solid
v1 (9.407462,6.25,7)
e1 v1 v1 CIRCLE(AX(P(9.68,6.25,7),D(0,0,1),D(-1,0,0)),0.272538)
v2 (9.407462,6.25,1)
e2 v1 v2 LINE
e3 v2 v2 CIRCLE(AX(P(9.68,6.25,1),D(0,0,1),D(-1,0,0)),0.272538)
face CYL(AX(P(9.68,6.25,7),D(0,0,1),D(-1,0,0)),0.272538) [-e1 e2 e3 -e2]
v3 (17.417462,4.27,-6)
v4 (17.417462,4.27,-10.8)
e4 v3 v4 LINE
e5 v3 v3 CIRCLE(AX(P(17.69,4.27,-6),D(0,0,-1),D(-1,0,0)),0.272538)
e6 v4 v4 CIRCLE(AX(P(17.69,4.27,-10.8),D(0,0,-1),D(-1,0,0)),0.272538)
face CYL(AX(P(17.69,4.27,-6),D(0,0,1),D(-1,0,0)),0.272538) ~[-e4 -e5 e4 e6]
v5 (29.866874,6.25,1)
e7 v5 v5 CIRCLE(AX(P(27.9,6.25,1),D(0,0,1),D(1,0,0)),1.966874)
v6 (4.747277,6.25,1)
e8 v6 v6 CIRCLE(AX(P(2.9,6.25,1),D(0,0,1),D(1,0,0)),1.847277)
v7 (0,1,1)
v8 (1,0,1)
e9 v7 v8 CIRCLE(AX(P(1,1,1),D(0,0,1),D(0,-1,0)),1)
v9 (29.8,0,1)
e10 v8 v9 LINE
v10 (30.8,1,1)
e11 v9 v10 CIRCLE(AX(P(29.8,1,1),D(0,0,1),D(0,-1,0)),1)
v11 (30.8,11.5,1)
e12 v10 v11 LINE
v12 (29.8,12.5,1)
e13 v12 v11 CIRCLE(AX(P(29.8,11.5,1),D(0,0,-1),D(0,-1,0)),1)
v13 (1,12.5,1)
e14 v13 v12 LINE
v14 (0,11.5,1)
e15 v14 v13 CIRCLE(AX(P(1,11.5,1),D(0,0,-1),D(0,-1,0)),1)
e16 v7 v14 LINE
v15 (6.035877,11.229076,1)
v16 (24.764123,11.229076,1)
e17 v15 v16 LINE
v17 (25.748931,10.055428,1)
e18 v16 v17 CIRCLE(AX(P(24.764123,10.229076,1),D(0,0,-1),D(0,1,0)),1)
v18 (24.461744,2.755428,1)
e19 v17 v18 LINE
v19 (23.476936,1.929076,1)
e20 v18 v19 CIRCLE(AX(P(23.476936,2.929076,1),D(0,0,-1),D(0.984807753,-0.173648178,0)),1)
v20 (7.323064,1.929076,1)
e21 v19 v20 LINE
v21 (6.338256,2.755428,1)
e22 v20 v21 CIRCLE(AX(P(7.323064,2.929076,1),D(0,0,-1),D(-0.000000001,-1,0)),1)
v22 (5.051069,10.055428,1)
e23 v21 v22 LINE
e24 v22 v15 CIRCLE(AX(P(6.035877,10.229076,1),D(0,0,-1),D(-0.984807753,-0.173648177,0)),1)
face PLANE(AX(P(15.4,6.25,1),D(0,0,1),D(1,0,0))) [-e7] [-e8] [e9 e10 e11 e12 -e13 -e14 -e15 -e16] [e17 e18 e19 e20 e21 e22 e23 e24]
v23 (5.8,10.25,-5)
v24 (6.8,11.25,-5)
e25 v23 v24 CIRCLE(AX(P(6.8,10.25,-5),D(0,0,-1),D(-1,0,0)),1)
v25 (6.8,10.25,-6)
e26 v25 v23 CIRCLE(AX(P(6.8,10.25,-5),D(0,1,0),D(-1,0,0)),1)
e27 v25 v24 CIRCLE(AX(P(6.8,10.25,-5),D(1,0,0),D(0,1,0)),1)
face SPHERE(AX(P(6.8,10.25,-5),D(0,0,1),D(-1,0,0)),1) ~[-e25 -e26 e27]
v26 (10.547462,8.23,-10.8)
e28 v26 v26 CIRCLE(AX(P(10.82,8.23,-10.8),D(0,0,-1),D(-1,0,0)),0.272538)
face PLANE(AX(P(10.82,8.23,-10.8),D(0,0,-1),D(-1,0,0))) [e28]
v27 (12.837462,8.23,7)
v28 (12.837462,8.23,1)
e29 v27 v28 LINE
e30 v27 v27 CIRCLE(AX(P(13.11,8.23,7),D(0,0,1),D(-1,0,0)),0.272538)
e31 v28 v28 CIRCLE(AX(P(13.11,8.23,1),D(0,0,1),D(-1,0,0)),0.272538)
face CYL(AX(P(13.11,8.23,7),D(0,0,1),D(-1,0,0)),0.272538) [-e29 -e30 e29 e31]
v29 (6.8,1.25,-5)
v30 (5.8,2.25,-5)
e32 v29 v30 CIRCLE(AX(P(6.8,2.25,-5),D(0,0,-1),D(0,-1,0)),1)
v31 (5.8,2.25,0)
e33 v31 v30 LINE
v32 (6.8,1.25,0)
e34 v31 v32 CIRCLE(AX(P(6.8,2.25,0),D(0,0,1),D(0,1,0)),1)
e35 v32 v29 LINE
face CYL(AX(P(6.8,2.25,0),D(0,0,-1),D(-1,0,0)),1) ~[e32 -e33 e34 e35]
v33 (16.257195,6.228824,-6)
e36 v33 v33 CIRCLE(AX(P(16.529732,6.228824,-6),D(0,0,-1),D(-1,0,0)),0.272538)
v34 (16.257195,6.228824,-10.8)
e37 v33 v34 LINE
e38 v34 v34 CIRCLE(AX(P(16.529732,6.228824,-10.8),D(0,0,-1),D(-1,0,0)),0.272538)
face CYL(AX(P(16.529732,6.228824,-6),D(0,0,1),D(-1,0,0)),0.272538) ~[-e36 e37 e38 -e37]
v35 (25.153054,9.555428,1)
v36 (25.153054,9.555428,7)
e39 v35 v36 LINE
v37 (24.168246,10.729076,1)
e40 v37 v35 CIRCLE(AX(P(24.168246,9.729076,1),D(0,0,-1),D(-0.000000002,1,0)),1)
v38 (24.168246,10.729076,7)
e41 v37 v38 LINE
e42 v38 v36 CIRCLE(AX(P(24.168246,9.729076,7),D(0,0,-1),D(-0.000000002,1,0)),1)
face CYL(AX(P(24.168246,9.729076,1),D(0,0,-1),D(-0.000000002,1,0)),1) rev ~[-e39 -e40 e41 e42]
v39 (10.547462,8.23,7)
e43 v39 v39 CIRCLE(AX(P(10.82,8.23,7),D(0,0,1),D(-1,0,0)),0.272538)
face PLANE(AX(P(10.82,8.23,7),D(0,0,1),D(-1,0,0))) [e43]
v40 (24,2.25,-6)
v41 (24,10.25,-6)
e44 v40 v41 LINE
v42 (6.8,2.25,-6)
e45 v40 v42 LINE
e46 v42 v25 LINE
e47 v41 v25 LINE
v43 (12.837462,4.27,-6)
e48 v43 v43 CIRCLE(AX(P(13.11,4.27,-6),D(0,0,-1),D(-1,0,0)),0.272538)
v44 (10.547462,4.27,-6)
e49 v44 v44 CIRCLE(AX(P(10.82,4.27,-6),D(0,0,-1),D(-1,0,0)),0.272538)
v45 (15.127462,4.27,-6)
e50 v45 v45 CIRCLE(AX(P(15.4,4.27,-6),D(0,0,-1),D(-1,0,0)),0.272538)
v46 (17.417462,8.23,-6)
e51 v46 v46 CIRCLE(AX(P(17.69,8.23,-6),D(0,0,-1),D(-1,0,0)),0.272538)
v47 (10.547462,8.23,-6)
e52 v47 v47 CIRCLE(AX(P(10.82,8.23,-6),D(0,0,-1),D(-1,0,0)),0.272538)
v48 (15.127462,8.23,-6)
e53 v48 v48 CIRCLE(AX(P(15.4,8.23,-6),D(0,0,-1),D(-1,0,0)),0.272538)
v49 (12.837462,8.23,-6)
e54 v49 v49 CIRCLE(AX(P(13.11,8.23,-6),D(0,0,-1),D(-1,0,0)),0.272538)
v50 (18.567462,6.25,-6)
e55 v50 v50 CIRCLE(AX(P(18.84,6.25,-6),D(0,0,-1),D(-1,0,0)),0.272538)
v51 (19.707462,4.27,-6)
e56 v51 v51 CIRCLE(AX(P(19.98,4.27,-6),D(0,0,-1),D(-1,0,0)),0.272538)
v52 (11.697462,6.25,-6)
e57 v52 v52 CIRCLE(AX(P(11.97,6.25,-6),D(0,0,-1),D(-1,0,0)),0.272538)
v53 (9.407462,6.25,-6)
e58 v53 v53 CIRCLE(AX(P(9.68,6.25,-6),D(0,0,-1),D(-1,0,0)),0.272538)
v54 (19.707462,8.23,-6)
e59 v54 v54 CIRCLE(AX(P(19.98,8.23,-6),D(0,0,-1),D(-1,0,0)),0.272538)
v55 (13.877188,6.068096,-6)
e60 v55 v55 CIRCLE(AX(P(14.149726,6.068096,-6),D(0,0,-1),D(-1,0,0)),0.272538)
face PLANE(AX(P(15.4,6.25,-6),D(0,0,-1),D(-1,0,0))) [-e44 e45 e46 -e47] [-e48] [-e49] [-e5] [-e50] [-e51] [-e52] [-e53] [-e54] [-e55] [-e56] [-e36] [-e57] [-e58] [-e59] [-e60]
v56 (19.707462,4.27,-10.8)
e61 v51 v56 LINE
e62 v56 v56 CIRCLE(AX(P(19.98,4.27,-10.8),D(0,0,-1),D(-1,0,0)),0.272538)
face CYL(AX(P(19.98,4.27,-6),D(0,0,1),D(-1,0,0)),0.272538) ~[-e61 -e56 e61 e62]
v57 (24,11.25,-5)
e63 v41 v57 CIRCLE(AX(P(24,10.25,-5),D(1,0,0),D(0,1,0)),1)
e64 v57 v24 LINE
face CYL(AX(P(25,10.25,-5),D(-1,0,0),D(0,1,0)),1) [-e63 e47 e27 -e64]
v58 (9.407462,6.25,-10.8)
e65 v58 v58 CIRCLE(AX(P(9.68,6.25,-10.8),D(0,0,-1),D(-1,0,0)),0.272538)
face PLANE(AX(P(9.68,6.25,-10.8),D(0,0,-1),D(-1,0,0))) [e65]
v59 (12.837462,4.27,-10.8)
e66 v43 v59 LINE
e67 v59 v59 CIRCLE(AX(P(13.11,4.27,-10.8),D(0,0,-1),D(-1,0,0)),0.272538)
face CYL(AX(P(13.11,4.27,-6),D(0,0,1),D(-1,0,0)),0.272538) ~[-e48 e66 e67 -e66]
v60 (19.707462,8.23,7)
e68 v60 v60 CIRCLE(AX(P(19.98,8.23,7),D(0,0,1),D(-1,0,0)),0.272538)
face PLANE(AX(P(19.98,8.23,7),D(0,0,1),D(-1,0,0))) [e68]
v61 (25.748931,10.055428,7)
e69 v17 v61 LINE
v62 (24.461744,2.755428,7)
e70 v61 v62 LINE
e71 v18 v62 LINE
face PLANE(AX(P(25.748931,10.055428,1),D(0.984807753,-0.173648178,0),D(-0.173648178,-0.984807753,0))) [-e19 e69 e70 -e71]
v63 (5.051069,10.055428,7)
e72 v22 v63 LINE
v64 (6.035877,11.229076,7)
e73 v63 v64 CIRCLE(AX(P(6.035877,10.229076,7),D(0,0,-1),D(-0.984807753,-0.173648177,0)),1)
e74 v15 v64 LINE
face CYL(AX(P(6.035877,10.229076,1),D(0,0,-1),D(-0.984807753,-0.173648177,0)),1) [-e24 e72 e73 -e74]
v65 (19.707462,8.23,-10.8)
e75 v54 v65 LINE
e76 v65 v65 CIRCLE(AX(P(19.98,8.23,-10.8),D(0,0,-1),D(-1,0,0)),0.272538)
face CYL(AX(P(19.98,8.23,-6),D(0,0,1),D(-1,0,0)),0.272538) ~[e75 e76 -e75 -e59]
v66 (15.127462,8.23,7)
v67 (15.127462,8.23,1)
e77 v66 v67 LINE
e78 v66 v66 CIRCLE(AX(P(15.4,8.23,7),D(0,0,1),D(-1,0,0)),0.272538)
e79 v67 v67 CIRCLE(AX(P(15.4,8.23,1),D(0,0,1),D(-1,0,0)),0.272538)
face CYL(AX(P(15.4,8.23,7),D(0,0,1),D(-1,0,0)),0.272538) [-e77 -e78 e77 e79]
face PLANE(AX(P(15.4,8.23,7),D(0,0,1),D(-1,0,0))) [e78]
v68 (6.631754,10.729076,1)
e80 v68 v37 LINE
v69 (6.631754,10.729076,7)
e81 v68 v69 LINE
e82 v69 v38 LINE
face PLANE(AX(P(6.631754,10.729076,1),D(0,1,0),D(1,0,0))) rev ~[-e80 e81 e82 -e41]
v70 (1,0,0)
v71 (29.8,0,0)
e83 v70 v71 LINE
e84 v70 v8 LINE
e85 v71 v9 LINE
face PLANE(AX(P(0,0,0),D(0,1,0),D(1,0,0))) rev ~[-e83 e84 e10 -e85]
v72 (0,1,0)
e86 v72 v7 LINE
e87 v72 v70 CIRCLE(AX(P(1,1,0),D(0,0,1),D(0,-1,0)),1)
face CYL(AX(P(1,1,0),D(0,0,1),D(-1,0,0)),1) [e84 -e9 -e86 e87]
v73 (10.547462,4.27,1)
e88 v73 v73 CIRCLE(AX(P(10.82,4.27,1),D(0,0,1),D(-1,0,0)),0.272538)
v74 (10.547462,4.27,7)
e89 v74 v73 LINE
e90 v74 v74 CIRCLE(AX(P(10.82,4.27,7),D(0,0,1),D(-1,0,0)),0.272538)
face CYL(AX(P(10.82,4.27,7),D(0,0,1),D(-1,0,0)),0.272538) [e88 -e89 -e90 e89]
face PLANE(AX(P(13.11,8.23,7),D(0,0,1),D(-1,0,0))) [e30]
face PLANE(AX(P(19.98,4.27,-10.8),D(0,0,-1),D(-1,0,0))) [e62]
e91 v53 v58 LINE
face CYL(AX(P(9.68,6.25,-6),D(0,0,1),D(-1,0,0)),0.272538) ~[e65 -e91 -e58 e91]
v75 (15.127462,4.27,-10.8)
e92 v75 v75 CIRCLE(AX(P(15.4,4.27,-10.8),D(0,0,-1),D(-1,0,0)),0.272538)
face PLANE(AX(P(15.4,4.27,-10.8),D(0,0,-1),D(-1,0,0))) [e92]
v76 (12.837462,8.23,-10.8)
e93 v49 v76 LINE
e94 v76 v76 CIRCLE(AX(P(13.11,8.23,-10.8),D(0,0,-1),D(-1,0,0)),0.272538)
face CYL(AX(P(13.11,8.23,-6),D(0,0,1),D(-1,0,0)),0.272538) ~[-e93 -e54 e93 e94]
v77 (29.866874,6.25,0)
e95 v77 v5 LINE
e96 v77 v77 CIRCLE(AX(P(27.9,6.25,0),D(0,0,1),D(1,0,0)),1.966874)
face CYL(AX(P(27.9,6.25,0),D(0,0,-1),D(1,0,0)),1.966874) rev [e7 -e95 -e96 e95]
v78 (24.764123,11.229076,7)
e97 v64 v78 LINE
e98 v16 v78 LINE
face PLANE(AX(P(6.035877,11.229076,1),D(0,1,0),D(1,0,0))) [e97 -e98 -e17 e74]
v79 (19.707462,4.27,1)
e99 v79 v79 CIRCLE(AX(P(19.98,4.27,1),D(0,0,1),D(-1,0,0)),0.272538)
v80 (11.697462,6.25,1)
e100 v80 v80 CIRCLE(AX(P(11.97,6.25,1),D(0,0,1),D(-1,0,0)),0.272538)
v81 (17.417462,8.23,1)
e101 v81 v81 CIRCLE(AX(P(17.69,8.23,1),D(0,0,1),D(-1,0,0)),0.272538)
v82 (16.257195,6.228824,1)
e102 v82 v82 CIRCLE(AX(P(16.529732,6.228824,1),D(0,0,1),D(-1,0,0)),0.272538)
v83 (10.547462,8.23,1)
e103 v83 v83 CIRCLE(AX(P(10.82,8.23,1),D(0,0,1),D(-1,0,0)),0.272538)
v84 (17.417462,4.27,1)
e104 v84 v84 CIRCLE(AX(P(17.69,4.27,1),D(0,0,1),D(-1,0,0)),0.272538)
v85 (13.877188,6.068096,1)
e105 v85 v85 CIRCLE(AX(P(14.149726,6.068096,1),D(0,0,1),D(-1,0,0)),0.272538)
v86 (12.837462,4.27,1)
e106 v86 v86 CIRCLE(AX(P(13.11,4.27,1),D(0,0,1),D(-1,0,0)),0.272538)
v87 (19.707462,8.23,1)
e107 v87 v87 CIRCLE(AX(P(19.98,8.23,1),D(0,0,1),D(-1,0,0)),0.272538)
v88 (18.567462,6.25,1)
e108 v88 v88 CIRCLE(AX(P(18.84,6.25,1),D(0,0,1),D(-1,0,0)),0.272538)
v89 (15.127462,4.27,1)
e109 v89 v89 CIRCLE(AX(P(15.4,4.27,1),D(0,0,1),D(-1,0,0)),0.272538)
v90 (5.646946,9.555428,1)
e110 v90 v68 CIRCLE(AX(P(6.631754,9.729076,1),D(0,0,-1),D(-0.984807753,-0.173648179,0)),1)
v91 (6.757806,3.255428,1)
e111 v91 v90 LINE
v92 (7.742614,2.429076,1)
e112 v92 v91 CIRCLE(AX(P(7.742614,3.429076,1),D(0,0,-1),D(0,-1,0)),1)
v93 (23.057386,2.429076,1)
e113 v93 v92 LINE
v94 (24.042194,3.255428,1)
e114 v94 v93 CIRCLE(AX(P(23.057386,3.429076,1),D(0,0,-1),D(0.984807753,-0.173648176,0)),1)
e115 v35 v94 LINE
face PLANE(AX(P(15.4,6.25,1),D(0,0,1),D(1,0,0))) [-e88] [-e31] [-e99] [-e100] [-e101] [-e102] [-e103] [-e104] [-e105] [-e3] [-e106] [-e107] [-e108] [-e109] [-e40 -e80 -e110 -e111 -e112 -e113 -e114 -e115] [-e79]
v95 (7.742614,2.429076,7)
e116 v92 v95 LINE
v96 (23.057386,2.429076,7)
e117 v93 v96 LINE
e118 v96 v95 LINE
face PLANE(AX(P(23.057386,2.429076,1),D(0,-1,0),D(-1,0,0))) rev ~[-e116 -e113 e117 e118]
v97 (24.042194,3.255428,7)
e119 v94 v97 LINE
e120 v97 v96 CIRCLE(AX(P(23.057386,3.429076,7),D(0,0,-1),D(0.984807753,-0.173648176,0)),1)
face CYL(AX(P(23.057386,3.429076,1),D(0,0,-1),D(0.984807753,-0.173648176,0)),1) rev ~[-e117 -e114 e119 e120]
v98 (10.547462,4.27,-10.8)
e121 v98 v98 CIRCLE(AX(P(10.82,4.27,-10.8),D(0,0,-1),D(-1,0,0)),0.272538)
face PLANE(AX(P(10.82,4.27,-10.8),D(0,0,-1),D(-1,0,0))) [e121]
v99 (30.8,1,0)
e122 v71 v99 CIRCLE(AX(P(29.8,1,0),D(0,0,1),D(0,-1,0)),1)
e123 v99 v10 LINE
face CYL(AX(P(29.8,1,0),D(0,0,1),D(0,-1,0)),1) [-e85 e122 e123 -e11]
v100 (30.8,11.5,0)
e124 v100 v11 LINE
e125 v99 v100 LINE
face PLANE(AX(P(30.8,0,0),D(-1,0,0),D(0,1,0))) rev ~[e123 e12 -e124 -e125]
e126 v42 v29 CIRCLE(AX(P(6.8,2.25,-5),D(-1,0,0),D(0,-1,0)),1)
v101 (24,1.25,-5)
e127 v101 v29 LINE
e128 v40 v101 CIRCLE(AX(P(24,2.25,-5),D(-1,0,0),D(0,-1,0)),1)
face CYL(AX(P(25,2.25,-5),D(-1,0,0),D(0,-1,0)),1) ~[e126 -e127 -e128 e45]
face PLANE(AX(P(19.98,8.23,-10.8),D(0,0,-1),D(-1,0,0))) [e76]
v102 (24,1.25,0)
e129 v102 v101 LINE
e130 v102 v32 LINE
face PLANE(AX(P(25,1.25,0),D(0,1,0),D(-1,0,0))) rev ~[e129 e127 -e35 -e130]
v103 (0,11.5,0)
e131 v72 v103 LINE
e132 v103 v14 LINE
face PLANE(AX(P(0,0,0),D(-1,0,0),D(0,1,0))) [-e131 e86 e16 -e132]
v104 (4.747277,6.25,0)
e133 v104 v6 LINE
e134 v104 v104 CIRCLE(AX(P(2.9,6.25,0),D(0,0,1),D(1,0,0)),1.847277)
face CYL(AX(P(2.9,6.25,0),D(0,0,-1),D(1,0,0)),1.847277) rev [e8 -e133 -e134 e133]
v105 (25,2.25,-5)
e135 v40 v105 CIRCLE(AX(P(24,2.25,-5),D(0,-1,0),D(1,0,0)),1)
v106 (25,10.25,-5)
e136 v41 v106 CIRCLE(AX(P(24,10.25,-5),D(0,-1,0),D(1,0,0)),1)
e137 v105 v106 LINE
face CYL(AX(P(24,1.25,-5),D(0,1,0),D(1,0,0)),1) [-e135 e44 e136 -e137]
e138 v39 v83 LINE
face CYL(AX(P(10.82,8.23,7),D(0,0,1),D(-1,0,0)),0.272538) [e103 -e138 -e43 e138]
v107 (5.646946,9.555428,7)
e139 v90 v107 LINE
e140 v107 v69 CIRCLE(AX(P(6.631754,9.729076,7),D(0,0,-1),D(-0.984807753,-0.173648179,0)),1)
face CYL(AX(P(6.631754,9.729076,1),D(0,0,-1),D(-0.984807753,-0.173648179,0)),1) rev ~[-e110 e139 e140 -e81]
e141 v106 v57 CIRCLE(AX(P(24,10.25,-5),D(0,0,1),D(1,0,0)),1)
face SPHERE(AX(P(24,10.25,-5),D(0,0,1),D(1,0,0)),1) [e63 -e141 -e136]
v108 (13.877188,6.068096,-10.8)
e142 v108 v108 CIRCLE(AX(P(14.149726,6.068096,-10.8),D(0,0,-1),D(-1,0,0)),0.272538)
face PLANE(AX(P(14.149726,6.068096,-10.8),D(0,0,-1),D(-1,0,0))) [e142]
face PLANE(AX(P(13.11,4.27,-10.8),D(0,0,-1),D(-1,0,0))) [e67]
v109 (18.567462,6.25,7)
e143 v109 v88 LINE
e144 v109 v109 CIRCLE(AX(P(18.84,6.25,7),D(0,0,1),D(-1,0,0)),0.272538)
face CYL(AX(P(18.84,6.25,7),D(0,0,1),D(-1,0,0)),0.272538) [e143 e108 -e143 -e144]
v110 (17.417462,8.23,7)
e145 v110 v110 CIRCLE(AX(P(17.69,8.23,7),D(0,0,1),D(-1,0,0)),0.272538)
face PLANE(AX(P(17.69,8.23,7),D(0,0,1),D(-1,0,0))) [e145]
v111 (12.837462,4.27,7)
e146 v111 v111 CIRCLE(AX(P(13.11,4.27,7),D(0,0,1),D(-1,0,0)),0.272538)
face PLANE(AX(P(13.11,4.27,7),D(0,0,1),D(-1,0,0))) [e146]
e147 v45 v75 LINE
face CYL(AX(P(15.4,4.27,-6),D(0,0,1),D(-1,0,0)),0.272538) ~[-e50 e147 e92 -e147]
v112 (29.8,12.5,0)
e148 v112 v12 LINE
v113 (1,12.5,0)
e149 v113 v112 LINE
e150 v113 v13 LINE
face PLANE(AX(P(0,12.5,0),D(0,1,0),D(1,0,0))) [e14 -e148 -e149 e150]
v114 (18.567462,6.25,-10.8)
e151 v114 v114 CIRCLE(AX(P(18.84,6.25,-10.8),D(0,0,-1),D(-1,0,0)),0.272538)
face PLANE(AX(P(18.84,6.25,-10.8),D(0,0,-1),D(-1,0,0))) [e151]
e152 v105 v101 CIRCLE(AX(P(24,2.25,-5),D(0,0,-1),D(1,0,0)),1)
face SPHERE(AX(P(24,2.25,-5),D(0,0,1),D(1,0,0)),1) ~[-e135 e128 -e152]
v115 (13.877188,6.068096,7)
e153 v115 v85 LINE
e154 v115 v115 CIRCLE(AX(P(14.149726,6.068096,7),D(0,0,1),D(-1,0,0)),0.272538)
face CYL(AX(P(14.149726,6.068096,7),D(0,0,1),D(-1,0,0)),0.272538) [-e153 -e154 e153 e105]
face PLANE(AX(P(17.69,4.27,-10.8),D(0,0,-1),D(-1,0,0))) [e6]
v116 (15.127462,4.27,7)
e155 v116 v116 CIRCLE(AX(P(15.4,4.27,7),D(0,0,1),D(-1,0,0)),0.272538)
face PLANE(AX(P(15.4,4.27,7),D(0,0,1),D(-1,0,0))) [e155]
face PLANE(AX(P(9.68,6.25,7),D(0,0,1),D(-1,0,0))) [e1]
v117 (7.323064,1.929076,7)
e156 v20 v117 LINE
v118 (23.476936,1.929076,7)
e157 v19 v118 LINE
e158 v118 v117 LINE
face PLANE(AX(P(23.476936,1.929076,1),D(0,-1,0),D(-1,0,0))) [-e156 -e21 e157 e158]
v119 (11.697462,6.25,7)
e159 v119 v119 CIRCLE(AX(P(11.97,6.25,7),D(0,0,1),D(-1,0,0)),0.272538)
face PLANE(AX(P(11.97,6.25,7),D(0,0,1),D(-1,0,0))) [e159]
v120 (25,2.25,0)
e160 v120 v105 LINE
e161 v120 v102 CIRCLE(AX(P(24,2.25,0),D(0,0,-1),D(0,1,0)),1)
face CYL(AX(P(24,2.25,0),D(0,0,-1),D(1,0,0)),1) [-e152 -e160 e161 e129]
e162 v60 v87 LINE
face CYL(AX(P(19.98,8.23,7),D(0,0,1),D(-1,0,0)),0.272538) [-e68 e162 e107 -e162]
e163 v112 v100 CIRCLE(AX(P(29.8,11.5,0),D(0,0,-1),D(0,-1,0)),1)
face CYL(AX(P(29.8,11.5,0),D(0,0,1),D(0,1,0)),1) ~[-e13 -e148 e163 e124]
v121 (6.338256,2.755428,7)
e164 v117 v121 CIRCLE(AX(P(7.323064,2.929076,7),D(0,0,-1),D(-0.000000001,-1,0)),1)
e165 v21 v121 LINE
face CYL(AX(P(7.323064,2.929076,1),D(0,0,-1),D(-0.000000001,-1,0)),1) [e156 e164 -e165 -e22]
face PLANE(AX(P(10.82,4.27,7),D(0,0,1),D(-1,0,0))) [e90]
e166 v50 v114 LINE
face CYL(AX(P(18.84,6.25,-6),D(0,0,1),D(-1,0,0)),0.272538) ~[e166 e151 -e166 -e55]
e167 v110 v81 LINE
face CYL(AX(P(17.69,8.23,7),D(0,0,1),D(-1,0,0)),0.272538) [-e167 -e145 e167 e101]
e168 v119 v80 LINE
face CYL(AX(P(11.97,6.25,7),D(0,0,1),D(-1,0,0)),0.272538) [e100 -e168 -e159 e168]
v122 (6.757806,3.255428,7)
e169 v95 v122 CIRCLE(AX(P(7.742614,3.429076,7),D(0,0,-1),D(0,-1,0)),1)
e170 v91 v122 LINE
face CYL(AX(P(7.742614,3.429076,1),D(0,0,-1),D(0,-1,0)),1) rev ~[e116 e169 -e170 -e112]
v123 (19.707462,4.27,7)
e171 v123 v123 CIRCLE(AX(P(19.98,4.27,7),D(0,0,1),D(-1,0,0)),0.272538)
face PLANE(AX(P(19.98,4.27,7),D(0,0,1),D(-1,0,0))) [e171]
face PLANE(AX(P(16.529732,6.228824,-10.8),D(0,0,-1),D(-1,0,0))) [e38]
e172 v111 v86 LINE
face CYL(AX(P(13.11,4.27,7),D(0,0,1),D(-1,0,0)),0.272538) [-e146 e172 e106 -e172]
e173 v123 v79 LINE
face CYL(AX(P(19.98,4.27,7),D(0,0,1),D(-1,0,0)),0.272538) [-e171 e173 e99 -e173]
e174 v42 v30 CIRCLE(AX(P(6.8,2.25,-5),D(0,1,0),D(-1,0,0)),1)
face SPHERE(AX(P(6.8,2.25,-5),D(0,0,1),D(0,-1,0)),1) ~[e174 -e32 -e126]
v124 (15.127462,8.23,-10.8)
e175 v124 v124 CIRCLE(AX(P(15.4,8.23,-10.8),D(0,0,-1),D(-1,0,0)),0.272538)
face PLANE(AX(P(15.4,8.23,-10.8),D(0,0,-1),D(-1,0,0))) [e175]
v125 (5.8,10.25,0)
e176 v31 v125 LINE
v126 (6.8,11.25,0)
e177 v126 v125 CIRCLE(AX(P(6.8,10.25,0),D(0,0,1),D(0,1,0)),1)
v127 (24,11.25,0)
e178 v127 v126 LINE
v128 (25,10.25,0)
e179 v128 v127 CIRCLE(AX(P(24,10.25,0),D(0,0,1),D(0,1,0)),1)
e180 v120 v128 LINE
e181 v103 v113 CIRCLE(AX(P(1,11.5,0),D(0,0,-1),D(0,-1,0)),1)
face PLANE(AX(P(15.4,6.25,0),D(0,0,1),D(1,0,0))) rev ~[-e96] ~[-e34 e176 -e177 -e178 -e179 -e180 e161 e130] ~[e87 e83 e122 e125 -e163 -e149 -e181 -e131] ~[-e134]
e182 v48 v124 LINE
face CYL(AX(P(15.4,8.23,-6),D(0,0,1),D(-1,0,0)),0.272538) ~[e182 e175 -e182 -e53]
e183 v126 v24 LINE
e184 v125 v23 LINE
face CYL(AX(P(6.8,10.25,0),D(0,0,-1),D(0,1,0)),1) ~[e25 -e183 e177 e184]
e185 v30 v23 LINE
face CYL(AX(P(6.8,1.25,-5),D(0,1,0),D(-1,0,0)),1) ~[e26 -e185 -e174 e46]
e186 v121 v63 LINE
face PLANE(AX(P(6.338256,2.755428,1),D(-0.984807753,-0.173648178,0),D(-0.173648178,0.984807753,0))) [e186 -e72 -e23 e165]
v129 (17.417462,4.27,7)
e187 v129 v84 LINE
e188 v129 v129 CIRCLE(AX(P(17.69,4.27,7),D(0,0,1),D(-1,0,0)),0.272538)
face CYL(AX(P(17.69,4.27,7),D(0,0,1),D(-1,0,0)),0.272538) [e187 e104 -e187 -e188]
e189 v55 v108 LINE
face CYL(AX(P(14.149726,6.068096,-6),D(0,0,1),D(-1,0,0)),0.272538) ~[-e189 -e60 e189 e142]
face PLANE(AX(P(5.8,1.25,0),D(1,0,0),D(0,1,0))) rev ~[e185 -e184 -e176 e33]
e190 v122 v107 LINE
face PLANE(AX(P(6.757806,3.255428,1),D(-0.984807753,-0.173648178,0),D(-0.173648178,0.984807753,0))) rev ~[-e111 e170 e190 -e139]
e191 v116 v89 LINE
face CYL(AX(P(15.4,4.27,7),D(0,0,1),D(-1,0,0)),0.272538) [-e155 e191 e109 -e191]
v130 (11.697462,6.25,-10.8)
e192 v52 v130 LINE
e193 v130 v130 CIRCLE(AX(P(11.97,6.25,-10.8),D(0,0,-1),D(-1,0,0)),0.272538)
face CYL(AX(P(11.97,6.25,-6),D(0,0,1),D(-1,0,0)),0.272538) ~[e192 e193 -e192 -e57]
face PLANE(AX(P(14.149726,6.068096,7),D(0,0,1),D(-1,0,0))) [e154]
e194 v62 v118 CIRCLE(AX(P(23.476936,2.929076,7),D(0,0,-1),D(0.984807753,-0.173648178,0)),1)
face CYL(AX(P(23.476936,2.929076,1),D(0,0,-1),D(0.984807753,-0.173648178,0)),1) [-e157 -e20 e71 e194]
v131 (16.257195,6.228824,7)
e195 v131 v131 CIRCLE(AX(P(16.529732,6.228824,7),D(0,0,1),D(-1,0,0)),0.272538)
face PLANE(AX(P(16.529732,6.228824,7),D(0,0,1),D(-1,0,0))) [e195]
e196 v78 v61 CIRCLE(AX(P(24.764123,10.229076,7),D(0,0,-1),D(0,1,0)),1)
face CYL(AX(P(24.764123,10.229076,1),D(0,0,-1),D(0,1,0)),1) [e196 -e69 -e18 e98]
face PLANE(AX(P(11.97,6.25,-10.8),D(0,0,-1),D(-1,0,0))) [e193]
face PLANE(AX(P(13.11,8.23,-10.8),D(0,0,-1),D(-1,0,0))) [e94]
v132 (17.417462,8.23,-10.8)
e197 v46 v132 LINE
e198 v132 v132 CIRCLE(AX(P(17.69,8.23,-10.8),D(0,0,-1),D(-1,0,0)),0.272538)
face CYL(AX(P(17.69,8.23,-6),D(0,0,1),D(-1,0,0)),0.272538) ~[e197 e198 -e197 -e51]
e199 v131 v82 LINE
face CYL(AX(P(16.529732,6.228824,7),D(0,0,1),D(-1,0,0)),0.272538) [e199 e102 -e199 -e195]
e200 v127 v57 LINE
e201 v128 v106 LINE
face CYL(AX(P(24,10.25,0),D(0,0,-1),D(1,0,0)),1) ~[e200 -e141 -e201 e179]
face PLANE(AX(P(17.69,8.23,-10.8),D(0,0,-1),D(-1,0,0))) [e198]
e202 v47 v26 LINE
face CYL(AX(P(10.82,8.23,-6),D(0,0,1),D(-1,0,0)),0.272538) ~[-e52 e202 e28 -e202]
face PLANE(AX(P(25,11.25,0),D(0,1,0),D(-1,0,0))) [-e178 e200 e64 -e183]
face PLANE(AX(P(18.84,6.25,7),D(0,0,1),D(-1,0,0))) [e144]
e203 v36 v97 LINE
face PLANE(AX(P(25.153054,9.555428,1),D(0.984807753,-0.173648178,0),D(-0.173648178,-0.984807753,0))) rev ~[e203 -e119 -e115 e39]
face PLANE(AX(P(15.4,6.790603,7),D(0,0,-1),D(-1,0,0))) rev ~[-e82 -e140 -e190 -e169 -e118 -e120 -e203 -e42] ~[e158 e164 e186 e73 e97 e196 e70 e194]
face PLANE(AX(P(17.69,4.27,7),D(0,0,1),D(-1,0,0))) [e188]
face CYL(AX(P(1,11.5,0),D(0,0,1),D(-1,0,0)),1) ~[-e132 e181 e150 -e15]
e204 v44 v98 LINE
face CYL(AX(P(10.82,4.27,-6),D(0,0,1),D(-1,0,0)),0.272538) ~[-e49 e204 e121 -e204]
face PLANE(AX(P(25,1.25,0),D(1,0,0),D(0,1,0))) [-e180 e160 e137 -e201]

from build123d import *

# Parameters (mm, degrees)
ESQUISSE1_W      = 30.8
ESQUISSE1_H      = 12.5
ESQUISSE1_R      = 1.847277142
ESQUISSE1_R_2    = 1.96687405
EXTRUSION1_DEPTH = 1
EXTRUSION2_DEPTH = 6
ESQUISSE3_W      = 19.2
ESQUISSE3_H      = 10
EXTRUSION3_DEPTH = 6
ESQUISSE4_R      = 0.272537765
EXTRUSION4_DEPTH = 4.8
CONG_1_R         = 1
EXTRUSION6_START = 6
ESQUISSE7_R      = 0.272537765
EXTRUSION6_DEPTH = 6


with BuildPart() as part:
    # Esquisse1 → Extrusion1 (new body)
    with BuildSketch(Plane.XY):
        with Locations((15.4, 6.25)):
            Rectangle(ESQUISSE1_W, ESQUISSE1_H)
        with Locations((2.9, 6.25)):
            Circle(ESQUISSE1_R, mode=Mode.SUBTRACT)
        with Locations((27.9, 6.25)):
            Circle(ESQUISSE1_R_2, mode=Mode.SUBTRACT)
    extrude(amount=EXTRUSION1_DEPTH)

    # Esquisse2 → Extrusion2 (add)
    with BuildSketch(Plane.XY.offset(1)):
        with BuildLine():
            Line((6.035876796, 11.229075796), (24.764123204, 11.229075796))
            ThreePointArc((24.764123204, 11.229075796), (25.530167647, 10.871863406), (25.748930957, 10.055427619))
            Line((25.748930957, 10.055427619), (24.461743998, 2.755427619))
            ThreePointArc((24.461743998, 2.755427619), (24.119723854, 2.163031353), (23.476936245, 1.929075796))
            Line((23.476936245, 1.929075796), (7.323063755, 1.929075796))
            ThreePointArc((7.323063755, 1.929075796), (6.680276146, 2.163031353), (6.338256002, 2.755427619))
            Line((6.338256002, 2.755427619), (5.051069043, 10.055427619))
            ThreePointArc((5.051069043, 10.055427619), (5.269832353, 10.871863406), (6.035876796, 11.229075796))
        make_face()
        with BuildLine():
            Line((6.631753593, 10.729075796), (24.168246407, 10.729075796))
            ThreePointArc((24.168246407, 10.729075796), (24.934290851, 10.371863406), (25.15305416, 9.555427619))
            Line((25.15305416, 9.555427619), (24.042194182, 3.255427619))
            ThreePointArc((24.042194182, 3.255427619), (23.700174039, 2.663031353), (23.057386429, 2.429075796))
            Line((23.057386429, 2.429075796), (7.742613571, 2.429075796))
            ThreePointArc((7.742613571, 2.429075796), (7.099825961, 2.663031353), (6.757805818, 3.255427619))
            Line((6.757805818, 3.255427619), (5.64694584, 9.555427619))
            ThreePointArc((5.64694584, 9.555427619), (5.865709149, 10.371863406), (6.631753593, 10.729075796))
        make_face(mode=Mode.SUBTRACT)
    extrude(amount=EXTRUSION2_DEPTH)

    # Esquisse3 → Extrusion3 (add)
    with BuildSketch(Plane(origin=(0, 0, 0), x_dir=(-1, 0, 0), z_dir=(0, 0, -1))):
        with Locations((-15.4, 6.25)):
            Rectangle(ESQUISSE3_W, ESQUISSE3_H)
    extrude(amount=EXTRUSION3_DEPTH)

    # Esquisse4 → Extrusion4 (add)
    with BuildSketch(Plane(origin=(0, 0, -6), x_dir=(-1, 0, 0), z_dir=(0, 0, -1))):
        with Locations((-19.98, 8.23)):
            Circle(ESQUISSE4_R)
        with Locations((-17.69, 8.23)):
            Circle(ESQUISSE4_R)
        with Locations((-15.4, 8.23)):
            Circle(ESQUISSE4_R)
        with Locations((-13.11, 8.23)):
            Circle(ESQUISSE4_R)
        with Locations((-10.82, 8.23)):
            Circle(ESQUISSE4_R)
        with Locations((-9.68, 6.25)):
            Circle(ESQUISSE4_R)
        with Locations((-11.97, 6.25)):
            Circle(ESQUISSE4_R)
        with Locations((-14.149725584, 6.068095869)):
            Circle(ESQUISSE4_R)
        with Locations((-16.529732269, 6.22882427)):
            Circle(ESQUISSE4_R)
        with Locations((-18.84, 6.25)):
            Circle(ESQUISSE4_R)
        with Locations((-19.98, 4.27)):
            Circle(ESQUISSE4_R)
        with Locations((-17.69, 4.27)):
            Circle(ESQUISSE4_R)
        with Locations((-15.4, 4.27)):
            Circle(ESQUISSE4_R)
        with Locations((-13.11, 4.27)):
            Circle(ESQUISSE4_R)
        with Locations((-10.82, 4.27)):
            Circle(ESQUISSE4_R)
    extrude(amount=EXTRUSION4_DEPTH)

    # Congé1
    cong_1_edges = [part.edges().sort_by_distance(p)[0] for p in [
        (25, 11.25, -3),
        (25, 1.25, -3),
        (5.8, 1.25, -3),
        (5.8, 11.25, -3),
        (25, 6.25, -6),
        (15.4, 1.25, -6),
        (5.8, 6.25, -6),
        (15.4, 11.25, -6),
        (0, 12.5, 0.5),
        (30.8, 12.5, 0.5),
        (30.8, 0, 0.5),
        (0, 0, 0.5),
    ]]
    fillet(cong_1_edges, radius=CONG_1_R)

    # Esquisse7 → Extrusion6 (add)
    with BuildSketch(Plane.XY.offset(1).offset(EXTRUSION6_START)):
        with Locations(Location((19.98, 8.23, 0), (0, 0, 180))):
            Circle(ESQUISSE7_R)
        with Locations(Location((17.69, 8.23, 0), (0, 0, 180))):
            Circle(ESQUISSE7_R)
        with Locations(Location((15.4, 8.23, 0), (0, 0, 180))):
            Circle(ESQUISSE7_R)
        with Locations(Location((13.11, 8.23, 0), (0, 0, 180))):
            Circle(ESQUISSE7_R)
        with Locations(Location((10.82, 8.23, 0), (0, 0, 180))):
            Circle(ESQUISSE7_R)
        with Locations(Location((9.68, 6.25, 0), (0, 0, 180))):
            Circle(ESQUISSE7_R)
        with Locations(Location((11.97, 6.25, 0), (0, 0, 180))):
            Circle(ESQUISSE7_R)
        with Locations(Location((14.149725584, 6.068095869, 0), (0, 0, 180))):
            Circle(ESQUISSE7_R)
        with Locations(Location((16.529732269, 6.22882427, 0), (0, 0, 180))):
            Circle(ESQUISSE7_R)
        with Locations(Location((18.84, 6.25, 0), (0, 0, 180))):
            Circle(ESQUISSE7_R)
        with Locations(Location((19.98, 4.27, 0), (0, 0, 180))):
            Circle(ESQUISSE7_R)
        with Locations(Location((17.69, 4.27, 0), (0, 0, 180))):
            Circle(ESQUISSE7_R)
        with Locations(Location((15.4, 4.27, 0), (0, 0, 180))):
            Circle(ESQUISSE7_R)
        with Locations(Location((13.11, 4.27, 0), (0, 0, 180))):
            Circle(ESQUISSE7_R)
        with Locations(Location((10.82, 4.27, 0), (0, 0, 180))):
            Circle(ESQUISSE7_R)
    extrude(amount=-EXTRUSION6_DEPTH)


solid = part.part
